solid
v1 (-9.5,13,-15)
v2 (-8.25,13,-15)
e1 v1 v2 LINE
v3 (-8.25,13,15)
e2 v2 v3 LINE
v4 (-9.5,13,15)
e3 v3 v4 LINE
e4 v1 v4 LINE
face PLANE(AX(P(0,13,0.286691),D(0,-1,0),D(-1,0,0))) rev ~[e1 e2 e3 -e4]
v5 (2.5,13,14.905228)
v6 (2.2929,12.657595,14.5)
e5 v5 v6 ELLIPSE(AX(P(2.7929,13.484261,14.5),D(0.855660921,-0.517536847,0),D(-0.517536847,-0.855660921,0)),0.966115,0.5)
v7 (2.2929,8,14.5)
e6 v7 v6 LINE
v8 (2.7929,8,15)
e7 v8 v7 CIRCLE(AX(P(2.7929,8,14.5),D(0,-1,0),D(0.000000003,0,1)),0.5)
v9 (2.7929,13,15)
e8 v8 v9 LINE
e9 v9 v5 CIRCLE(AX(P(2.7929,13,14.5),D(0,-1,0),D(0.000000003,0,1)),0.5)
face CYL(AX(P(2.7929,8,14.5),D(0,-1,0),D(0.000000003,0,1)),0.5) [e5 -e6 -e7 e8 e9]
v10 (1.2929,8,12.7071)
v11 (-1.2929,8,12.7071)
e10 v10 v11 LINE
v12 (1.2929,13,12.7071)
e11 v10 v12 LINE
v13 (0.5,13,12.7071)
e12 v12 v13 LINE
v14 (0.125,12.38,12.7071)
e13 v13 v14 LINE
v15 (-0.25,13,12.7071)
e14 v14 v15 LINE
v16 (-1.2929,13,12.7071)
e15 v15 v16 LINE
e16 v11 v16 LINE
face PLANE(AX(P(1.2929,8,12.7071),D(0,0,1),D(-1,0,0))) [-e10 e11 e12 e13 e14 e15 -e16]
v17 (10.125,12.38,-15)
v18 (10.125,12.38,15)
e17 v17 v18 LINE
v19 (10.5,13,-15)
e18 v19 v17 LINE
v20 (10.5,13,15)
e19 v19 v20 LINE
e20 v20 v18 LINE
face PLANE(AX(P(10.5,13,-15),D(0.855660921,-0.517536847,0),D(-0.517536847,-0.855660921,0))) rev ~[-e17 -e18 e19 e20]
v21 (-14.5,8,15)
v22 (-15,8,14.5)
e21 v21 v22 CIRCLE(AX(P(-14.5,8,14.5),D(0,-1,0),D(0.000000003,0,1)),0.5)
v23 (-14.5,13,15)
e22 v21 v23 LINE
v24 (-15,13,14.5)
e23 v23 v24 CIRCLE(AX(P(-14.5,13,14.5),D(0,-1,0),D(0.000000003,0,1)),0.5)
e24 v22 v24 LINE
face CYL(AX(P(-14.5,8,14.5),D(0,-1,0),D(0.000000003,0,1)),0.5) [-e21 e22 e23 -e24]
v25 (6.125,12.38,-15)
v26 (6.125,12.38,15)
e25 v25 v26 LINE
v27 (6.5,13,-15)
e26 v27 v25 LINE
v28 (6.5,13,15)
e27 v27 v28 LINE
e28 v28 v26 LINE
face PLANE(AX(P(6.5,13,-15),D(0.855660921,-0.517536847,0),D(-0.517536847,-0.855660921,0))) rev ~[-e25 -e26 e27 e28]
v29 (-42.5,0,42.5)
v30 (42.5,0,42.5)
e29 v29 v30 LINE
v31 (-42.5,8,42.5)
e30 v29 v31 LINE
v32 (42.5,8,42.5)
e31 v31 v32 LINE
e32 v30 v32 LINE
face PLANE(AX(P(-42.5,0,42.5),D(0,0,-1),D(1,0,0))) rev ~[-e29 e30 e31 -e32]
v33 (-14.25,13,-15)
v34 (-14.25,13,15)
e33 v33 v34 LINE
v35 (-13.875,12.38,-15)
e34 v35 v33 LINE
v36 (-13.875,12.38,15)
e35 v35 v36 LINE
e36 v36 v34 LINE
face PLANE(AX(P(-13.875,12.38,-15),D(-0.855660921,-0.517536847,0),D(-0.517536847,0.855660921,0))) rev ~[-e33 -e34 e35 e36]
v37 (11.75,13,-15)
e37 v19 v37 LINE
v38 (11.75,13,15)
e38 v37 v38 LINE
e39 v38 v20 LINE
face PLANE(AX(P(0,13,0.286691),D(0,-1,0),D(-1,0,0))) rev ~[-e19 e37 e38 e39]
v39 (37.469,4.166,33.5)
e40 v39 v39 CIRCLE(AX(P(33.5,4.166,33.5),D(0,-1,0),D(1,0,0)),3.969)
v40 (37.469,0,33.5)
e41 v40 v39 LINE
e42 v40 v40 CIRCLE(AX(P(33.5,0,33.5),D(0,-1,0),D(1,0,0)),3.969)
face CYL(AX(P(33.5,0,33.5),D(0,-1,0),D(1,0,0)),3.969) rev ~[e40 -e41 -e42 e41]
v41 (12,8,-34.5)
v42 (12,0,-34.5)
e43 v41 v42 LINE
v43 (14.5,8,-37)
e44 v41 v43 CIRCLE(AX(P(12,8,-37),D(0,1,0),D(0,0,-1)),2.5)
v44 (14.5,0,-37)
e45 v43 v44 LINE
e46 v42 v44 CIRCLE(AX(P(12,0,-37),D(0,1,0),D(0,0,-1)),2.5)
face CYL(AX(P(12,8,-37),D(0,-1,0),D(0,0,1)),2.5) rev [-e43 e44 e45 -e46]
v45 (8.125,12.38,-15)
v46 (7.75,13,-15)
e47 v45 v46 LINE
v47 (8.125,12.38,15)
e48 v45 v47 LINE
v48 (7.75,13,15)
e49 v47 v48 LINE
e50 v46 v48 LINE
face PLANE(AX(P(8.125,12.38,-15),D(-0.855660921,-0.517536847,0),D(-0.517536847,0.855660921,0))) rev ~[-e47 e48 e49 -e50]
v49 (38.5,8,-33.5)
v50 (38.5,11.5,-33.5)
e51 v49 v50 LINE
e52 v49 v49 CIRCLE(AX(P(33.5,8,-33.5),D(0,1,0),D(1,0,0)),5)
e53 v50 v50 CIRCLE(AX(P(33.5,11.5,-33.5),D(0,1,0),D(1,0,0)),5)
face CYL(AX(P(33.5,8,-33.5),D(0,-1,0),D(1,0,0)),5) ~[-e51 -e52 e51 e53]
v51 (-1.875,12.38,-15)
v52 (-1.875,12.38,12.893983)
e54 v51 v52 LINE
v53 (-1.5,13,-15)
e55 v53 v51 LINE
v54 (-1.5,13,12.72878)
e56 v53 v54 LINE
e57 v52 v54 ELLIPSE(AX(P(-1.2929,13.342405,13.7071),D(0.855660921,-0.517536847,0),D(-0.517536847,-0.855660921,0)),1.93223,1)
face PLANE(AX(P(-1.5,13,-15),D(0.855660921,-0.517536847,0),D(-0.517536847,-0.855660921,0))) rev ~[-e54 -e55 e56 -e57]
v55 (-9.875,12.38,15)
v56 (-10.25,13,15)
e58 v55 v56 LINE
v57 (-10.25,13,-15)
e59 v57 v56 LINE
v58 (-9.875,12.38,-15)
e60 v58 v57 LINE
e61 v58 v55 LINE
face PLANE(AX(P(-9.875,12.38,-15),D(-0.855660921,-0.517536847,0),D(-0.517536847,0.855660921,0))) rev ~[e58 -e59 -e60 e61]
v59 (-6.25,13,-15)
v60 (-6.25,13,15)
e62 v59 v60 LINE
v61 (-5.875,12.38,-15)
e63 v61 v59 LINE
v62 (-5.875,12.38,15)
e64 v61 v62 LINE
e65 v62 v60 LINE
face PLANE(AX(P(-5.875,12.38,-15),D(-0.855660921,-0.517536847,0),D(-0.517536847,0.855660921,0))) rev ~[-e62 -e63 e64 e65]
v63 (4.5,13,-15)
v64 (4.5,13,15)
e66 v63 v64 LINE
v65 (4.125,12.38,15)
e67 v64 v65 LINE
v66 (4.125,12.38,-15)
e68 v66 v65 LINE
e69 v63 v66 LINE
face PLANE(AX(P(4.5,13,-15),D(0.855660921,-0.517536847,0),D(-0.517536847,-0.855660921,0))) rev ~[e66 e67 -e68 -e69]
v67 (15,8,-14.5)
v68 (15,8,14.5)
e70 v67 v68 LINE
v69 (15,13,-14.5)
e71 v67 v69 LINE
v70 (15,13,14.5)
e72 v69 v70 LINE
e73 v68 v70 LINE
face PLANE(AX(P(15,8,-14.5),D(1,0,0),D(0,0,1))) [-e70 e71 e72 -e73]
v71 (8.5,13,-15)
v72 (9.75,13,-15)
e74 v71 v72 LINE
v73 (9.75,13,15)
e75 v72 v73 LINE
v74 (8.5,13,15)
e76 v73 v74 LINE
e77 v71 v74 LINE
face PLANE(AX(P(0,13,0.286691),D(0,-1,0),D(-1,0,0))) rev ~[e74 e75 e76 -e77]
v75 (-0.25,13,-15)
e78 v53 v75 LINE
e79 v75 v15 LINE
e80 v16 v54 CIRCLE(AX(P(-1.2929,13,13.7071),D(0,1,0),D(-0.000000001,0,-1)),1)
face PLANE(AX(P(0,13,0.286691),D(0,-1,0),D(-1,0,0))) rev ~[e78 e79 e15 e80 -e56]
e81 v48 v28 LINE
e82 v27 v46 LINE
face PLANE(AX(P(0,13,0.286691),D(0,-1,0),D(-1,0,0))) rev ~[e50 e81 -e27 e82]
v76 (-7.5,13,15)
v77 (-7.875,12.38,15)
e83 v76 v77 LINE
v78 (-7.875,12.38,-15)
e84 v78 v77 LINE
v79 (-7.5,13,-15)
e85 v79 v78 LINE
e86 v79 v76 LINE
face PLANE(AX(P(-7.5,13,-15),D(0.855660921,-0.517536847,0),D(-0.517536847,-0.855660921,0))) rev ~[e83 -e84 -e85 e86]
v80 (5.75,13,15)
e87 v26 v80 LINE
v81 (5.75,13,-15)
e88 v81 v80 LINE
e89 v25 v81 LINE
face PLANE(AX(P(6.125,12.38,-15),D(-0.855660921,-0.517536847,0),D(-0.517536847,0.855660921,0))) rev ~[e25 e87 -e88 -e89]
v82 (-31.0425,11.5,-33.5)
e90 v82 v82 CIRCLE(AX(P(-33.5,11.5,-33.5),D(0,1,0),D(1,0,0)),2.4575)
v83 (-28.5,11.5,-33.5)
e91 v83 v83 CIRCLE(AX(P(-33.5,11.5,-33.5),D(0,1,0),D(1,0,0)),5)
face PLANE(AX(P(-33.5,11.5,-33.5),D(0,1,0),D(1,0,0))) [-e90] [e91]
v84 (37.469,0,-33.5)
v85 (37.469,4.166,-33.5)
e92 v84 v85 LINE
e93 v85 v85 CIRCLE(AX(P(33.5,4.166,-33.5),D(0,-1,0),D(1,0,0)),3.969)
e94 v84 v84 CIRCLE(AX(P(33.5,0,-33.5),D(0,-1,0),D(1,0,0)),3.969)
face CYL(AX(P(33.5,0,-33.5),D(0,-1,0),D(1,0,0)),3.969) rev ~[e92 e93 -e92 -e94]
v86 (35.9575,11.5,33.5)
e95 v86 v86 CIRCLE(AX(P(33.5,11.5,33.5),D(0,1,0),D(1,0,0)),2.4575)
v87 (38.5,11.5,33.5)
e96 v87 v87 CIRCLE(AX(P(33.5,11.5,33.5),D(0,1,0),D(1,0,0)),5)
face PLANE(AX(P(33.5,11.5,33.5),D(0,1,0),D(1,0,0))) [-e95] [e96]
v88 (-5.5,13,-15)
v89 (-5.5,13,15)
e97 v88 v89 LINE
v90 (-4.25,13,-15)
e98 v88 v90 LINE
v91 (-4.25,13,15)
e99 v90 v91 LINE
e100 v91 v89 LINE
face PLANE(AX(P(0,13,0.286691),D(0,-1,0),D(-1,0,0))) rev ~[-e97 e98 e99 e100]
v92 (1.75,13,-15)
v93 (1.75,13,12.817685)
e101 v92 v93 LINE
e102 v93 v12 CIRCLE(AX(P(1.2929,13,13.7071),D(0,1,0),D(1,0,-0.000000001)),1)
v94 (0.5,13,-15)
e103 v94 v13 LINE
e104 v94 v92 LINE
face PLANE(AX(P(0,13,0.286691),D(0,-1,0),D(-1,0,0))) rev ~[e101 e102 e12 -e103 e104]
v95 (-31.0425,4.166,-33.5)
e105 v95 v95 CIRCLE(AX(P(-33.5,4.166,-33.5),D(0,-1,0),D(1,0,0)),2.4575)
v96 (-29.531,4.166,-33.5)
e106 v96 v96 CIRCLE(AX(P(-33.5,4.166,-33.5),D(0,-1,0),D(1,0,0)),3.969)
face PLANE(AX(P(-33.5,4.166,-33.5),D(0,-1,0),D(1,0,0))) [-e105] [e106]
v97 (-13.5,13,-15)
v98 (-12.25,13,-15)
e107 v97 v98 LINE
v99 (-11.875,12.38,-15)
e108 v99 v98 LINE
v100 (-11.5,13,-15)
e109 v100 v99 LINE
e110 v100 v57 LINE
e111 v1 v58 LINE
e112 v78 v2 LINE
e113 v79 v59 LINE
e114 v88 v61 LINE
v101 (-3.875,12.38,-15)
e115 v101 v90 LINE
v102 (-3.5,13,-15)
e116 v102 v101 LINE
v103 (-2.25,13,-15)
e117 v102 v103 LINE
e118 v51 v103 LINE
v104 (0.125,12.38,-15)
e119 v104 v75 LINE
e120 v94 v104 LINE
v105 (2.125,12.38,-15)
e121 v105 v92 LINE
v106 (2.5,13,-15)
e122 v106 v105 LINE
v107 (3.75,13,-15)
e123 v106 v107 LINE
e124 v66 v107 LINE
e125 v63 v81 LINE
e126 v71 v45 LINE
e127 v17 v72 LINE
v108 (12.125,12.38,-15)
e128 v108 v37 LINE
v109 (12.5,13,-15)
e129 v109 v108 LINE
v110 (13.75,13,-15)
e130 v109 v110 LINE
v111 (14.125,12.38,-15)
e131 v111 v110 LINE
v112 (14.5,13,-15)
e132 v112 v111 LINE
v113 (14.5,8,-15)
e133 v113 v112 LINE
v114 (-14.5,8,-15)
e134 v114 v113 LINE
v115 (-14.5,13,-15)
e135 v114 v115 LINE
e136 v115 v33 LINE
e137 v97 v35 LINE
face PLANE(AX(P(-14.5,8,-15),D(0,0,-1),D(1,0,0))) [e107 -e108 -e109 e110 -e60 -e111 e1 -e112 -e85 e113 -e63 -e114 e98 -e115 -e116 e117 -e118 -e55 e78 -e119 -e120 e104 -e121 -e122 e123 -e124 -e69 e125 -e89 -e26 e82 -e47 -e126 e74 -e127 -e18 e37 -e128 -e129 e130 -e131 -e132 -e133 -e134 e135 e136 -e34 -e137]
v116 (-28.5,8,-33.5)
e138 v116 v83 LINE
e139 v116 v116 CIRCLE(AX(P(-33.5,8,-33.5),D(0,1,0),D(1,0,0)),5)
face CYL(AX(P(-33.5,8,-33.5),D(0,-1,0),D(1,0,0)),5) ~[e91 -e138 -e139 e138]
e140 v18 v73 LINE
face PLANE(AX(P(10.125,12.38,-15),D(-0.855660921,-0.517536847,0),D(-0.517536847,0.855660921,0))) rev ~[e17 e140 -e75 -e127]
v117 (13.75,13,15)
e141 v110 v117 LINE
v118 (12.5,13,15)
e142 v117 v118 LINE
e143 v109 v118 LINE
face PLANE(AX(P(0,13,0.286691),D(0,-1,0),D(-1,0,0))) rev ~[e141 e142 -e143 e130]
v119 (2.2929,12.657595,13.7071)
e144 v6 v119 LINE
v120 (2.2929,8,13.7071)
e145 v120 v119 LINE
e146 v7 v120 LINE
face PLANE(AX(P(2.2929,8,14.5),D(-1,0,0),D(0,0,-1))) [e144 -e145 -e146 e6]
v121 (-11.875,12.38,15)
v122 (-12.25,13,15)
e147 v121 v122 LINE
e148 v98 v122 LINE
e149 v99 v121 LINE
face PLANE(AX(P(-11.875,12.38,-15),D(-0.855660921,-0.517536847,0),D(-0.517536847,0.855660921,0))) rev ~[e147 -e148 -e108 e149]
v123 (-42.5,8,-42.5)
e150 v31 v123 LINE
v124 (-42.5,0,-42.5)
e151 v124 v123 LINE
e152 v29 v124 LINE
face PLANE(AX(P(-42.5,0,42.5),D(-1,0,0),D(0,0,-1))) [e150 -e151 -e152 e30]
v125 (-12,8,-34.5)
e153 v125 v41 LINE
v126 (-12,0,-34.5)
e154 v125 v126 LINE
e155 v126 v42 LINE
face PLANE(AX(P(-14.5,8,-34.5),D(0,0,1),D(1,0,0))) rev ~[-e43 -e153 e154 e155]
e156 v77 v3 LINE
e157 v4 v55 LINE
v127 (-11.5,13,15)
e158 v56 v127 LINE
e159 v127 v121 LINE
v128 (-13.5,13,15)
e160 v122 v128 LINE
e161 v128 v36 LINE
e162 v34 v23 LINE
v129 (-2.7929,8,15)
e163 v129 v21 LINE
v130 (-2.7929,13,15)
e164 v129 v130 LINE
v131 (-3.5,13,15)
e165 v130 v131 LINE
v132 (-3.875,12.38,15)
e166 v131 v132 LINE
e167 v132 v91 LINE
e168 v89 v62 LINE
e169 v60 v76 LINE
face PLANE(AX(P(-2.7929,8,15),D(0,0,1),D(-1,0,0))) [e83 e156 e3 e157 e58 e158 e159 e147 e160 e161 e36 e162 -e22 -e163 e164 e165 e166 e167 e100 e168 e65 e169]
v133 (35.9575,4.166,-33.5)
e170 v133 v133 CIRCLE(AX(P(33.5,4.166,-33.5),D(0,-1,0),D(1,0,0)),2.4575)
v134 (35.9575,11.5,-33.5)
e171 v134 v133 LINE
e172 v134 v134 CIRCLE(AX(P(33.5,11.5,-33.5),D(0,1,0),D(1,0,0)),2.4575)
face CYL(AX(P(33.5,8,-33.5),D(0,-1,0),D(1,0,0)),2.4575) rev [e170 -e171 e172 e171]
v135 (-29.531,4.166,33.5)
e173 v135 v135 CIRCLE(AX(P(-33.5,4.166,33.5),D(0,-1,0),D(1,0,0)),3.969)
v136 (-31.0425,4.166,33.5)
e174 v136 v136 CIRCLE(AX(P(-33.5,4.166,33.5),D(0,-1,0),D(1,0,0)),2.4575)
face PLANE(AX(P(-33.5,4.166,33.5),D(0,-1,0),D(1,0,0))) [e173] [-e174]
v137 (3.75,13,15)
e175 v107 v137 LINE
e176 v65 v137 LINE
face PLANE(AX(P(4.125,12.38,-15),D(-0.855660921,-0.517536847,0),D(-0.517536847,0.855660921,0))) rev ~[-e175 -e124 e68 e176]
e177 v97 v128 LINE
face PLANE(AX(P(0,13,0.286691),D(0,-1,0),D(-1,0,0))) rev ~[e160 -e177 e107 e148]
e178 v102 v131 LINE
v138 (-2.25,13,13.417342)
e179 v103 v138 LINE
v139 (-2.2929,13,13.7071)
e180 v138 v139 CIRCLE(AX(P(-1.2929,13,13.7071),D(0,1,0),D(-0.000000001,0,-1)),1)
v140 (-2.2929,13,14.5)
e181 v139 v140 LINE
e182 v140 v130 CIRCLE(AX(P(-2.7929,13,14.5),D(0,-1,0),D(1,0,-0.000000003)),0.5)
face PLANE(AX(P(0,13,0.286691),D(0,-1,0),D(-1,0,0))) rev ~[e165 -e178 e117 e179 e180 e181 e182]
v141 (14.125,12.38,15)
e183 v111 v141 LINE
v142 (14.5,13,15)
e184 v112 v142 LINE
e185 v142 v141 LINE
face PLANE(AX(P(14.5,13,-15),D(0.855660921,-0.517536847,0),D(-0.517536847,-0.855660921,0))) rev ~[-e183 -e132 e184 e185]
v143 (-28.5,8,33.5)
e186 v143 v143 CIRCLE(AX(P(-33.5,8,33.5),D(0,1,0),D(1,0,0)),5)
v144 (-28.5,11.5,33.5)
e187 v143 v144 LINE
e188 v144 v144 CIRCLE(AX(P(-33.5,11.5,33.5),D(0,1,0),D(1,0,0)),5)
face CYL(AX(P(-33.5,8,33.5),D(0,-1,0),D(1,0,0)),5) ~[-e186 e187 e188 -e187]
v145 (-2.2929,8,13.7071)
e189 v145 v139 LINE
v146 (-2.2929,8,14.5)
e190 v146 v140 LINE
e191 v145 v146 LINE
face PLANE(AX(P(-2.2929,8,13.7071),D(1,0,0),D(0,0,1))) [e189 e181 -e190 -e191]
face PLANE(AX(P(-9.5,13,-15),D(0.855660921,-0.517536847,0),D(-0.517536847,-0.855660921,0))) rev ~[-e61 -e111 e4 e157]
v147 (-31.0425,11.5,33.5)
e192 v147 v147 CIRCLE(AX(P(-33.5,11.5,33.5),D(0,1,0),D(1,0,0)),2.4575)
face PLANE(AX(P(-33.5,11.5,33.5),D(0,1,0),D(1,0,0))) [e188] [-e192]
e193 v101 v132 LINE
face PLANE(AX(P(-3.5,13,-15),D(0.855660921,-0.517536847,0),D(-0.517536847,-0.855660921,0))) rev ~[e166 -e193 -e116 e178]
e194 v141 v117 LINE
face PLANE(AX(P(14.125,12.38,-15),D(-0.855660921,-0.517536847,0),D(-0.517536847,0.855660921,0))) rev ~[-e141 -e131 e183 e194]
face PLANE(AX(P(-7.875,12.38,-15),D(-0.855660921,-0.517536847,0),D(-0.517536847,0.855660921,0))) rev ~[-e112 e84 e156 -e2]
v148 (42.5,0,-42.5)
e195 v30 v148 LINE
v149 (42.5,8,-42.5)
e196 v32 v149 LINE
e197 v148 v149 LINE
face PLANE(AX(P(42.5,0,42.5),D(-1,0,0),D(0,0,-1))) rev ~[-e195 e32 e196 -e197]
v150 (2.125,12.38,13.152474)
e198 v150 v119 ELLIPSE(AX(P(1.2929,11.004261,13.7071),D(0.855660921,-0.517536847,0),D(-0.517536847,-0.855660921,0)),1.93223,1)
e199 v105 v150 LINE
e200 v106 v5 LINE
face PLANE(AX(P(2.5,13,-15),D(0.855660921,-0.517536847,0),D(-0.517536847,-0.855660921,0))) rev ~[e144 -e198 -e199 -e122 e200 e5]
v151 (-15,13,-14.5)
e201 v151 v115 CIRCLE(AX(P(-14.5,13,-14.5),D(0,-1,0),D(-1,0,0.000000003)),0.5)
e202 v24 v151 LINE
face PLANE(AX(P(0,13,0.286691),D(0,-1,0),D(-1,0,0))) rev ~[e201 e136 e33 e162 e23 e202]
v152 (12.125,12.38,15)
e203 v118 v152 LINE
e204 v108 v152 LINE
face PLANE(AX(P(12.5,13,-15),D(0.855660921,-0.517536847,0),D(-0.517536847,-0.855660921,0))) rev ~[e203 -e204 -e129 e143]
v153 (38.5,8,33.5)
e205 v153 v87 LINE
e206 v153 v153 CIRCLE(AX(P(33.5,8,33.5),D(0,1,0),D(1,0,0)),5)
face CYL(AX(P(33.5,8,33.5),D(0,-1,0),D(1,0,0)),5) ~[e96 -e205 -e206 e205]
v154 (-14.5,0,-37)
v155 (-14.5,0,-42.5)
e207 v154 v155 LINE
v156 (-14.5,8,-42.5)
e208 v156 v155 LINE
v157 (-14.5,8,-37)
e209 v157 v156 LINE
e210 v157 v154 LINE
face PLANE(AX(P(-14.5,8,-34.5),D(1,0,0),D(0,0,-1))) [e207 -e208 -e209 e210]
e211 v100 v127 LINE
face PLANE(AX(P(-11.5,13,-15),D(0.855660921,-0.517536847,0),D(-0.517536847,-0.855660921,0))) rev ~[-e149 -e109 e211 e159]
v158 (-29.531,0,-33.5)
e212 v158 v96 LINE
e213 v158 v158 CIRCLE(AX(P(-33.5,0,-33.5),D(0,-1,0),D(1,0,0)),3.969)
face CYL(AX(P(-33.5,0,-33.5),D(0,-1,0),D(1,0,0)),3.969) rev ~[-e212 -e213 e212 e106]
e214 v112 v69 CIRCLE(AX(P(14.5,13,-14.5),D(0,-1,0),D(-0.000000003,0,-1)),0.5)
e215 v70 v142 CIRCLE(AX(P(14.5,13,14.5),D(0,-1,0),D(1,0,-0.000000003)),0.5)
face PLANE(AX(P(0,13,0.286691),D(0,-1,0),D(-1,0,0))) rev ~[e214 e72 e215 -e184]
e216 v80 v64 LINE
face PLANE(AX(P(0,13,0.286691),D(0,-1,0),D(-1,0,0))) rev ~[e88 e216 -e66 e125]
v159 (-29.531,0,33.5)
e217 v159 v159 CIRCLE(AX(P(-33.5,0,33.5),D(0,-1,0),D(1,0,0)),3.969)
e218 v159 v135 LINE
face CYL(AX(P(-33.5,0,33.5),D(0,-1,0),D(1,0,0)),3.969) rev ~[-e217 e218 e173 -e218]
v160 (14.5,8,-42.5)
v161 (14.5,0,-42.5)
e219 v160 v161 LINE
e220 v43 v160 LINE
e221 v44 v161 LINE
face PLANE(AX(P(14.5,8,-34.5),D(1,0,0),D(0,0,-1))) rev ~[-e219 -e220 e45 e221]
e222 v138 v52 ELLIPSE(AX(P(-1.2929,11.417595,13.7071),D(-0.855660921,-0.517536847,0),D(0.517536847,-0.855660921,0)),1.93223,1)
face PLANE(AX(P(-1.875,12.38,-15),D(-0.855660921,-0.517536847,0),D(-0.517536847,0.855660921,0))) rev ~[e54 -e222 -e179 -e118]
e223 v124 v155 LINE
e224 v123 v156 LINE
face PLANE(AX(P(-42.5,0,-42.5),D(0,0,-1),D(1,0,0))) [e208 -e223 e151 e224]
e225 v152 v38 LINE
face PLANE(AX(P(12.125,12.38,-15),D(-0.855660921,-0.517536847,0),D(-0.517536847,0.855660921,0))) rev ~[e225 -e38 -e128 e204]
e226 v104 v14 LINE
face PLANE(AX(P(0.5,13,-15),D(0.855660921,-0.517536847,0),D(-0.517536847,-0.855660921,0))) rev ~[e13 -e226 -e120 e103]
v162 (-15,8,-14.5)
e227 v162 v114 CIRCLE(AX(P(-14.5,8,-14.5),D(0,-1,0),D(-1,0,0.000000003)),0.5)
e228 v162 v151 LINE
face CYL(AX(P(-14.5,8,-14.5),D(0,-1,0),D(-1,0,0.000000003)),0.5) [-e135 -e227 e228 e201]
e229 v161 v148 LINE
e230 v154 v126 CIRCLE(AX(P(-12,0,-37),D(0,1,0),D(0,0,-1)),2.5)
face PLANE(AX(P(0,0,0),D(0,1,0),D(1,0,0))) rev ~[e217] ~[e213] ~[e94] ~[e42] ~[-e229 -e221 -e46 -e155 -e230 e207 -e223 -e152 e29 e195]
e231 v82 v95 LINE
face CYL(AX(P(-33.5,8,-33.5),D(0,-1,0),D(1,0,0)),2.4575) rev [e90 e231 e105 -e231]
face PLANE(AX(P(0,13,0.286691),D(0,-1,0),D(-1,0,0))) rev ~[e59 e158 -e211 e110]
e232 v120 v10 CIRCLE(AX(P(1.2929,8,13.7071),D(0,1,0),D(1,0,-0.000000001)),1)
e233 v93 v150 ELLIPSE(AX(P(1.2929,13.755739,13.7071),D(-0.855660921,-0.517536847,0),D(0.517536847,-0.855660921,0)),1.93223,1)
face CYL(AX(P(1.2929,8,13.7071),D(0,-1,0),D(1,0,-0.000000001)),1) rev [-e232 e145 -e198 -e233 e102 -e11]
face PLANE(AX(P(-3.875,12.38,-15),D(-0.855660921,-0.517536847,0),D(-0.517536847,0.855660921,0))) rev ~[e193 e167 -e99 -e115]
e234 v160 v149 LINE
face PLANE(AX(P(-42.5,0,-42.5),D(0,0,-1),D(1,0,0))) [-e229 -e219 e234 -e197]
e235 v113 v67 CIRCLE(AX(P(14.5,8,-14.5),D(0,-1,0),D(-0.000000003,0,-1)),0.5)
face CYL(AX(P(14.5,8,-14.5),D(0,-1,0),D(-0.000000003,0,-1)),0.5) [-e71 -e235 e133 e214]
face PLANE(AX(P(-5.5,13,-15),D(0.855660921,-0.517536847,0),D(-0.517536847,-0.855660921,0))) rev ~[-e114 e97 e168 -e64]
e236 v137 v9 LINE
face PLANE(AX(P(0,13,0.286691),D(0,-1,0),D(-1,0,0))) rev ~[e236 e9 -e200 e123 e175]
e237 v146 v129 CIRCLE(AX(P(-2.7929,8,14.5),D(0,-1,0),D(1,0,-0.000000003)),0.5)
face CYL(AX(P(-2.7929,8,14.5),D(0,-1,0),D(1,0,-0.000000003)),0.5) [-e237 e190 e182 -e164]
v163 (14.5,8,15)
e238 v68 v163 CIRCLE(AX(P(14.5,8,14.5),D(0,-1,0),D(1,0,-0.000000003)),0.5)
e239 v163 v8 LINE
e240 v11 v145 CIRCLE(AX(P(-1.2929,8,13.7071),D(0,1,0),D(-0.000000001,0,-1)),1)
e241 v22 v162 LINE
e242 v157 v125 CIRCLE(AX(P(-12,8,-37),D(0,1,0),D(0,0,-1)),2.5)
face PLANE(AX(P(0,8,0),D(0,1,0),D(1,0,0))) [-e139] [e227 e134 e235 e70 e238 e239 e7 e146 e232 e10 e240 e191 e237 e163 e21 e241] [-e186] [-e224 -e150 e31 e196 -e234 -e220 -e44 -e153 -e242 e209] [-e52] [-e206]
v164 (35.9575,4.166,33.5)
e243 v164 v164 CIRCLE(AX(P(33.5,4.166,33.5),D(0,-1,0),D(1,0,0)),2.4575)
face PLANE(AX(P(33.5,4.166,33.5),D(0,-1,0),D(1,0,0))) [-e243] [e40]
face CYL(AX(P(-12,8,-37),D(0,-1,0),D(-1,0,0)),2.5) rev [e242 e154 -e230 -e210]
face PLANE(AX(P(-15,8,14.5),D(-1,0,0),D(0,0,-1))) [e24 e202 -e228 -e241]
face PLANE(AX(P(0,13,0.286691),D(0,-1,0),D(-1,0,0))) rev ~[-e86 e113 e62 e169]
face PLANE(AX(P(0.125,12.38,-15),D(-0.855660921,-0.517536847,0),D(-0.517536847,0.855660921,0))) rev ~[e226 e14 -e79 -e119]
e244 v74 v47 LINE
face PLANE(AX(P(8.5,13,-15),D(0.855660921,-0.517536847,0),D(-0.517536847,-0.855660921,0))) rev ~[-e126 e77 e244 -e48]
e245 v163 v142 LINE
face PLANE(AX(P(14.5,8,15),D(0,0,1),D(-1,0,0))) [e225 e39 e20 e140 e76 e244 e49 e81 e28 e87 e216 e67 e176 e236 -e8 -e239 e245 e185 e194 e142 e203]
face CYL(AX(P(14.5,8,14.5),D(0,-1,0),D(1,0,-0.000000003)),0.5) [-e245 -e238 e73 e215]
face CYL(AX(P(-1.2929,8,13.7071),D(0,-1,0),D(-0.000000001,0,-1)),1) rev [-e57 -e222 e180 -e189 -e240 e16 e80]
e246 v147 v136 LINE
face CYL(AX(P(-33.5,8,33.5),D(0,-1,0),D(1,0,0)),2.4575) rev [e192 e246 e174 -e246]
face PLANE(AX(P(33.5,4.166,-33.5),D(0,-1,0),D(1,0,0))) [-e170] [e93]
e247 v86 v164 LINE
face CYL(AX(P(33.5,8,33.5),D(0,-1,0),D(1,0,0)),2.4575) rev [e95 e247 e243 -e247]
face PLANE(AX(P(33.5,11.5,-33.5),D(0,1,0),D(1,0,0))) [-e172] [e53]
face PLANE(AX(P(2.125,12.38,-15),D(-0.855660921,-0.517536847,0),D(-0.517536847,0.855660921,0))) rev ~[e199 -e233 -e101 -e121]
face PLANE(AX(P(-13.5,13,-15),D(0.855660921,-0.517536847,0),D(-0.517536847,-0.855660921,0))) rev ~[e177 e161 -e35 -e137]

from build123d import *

# Parameters (mm, degrees)
SKETCH1_W           = 85
SKETCH1_H           = 85
SKETCH1_R           = 2.4575
BOSS_EXTRUDE1_DEPTH = 8
SKETCH2_R           = 3.969
CUT_EXTRUDE1_DEPTH  = 4.166
SKETCH3_R           = 5
SKETCH3_R_2         = 2.4575
BOSS_EXTRUDE2_DEPTH = 3.5
BOSS_EXTRUDE3_DEPTH = 5
SKETCH5_W           = 29
SKETCH5_H           = 8
CUT_EXTRUDE2_DEPTH  = 10
FILLET1_R           = 2.5
CUT_EXTRUDE3_REACH  = 59.5


with BuildPart() as part:
    # Sketch1 → Boss-Extrude1 (new body)
    with BuildSketch(Plane(origin=(0, 0, 0), x_dir=(1, 0, 0), z_dir=(0, 1, 0))):
        Rectangle(SKETCH1_W, SKETCH1_H)
        with Locations((-33.5, 33.5)):
            Circle(SKETCH1_R, mode=Mode.SUBTRACT)
        with Locations((-33.5, -33.5)):
            Circle(SKETCH1_R, mode=Mode.SUBTRACT)
        with Locations((33.5, -33.5)):
            Circle(SKETCH1_R, mode=Mode.SUBTRACT)
        with Locations((33.5, 33.5)):
            Circle(SKETCH1_R, mode=Mode.SUBTRACT)
    extrude(amount=BOSS_EXTRUDE1_DEPTH)

    # Sketch2 → Cut-Extrude1 (cut)
    with BuildSketch(Plane.XZ):
        with Locations((-33.5, 33.5)):
            Circle(SKETCH2_R)
        with Locations((33.5, 33.5)):
            Circle(SKETCH2_R)
        with Locations((33.5, -33.5)):
            Circle(SKETCH2_R)
        with Locations((-33.5, -33.5)):
            Circle(SKETCH2_R)
    extrude(amount=-CUT_EXTRUDE1_DEPTH, mode=Mode.SUBTRACT)

    # Sketch3 → Boss-Extrude2 (add)
    with BuildSketch(Plane(origin=(0, 8, 0), x_dir=(1, 0, 0), z_dir=(0, 1, 0))):
        with Locations((33.5, -33.5)):
            Circle(SKETCH3_R)
        with Locations((33.5, -33.5)):
            Circle(SKETCH3_R_2, mode=Mode.SUBTRACT)
        with Locations((-33.5, -33.5)):
            Circle(SKETCH3_R)
        with Locations((-33.5, -33.5)):
            Circle(SKETCH3_R_2, mode=Mode.SUBTRACT)
        with Locations((-33.5, 33.5)):
            Circle(SKETCH3_R)
        with Locations((-33.5, 33.5)):
            Circle(SKETCH3_R_2, mode=Mode.SUBTRACT)
        with Locations((33.5, 33.5)):
            Circle(SKETCH3_R)
        with Locations((33.5, 33.5)):
            Circle(SKETCH3_R_2, mode=Mode.SUBTRACT)
    extrude(amount=BOSS_EXTRUDE2_DEPTH)

    # Sketch4 → Boss-Extrude3 (add)
    with BuildSketch(Plane(origin=(0, 8, 0), x_dir=(1, 0, 0), z_dir=(0, 1, 0))):
        with BuildLine():
            Line((2.2929, -14.5), (2.2929, -13.7071))
            ThreePointArc((2.2929, -13.7071), (2.000006781, -12.999993219), (1.2929, -12.7071))
            Line((1.2929, -12.7071), (-1.2929, -12.7071))
            ThreePointArc((-1.2929, -12.7071), (-2.000006781, -12.999993219), (-2.2929, -13.7071))
            Line((-2.2929, -13.7071), (-2.2929, -14.5))
            ThreePointArc((-2.2929, -14.5), (-2.439346609, -14.853553391), (-2.7929, -15))
            Line((-2.7929, -15), (-14.5, -15))
            ThreePointArc((-14.5, -15), (-14.853553391, -14.853553391), (-15, -14.5))
            Line((-15, -14.5), (-15, 14.5))
            ThreePointArc((-15, 14.5), (-14.853553391, 14.853553391), (-14.5, 15))
            Line((-14.5, 15), (14.5, 15))
            ThreePointArc((14.5, 15), (14.853553391, 14.853553391), (15, 14.5))
            Line((15, 14.5), (15, -14.5))
            ThreePointArc((15, -14.5), (14.853553391, -14.853553391), (14.5, -15))
            Line((14.5, -15), (2.7929, -15))
            ThreePointArc((2.7929, -15), (2.439346609, -14.853553391), (2.2929, -14.5))
        make_face()
    extrude(amount=BOSS_EXTRUDE3_DEPTH)

    # Sketch5 → Cut-Extrude2 (cut)
    with BuildSketch(Plane(origin=(0, 8, 0), x_dir=(1, 0, 0), z_dir=(0, 1, 0))):
        with Locations((0, 38.5)):
            Rectangle(SKETCH5_W, SKETCH5_H)
    extrude(amount=-CUT_EXTRUDE2_DEPTH, mode=Mode.SUBTRACT)

    # Fillet1
    fillet1_edges = [part.edges().sort_by_distance(p)[0] for p in [
        (14.5, 4, -34.5),
        (-14.5, 4, -34.5),
    ]]
    fillet(fillet1_edges, radius=FILLET1_R)

    # Sketch7 → Cut-Extrude3 (cut, up to next)
    with BuildSketch(Plane(origin=(0, 0, -15), x_dir=(-1, 0, 0), z_dir=(0, 0, -1)), mode=Mode.PRIVATE) as cut_extrude3_sk1:
        Polygon((-14.5, 13), (-14.125, 12.38), (-13.75, 13), align=None)
    cut_extrude3_tool1 = extrude(cut_extrude3_sk1.sketch, amount=-CUT_EXTRUDE3_REACH, mode=Mode.PRIVATE) & part.part
    add(cut_extrude3_tool1.solids().sort_by_distance((14.125, 12.793333, -15))[0], mode=Mode.SUBTRACT)
    # Sketch7 → Cut-Extrude3 (cut, up to next)
    with BuildSketch(Plane(origin=(0, 0, -15), x_dir=(-1, 0, 0), z_dir=(0, 0, -1)), mode=Mode.PRIVATE) as cut_extrude3_sk2:
        Polygon((-12.5, 13), (-12.125, 12.38), (-11.75, 13), align=None)
    cut_extrude3_tool2 = extrude(cut_extrude3_sk2.sketch, amount=-CUT_EXTRUDE3_REACH, mode=Mode.PRIVATE) & part.part
    add(cut_extrude3_tool2.solids().sort_by_distance((12.125, 12.793333, -15))[0], mode=Mode.SUBTRACT)
    # Sketch7 → Cut-Extrude3 (cut, up to next)
    with BuildSketch(Plane(origin=(0, 0, -15), x_dir=(-1, 0, 0), z_dir=(0, 0, -1)), mode=Mode.PRIVATE) as cut_extrude3_sk3:
        Polygon((-10.5, 13), (-10.125, 12.38), (-9.75, 13), align=None)
    cut_extrude3_tool3 = extrude(cut_extrude3_sk3.sketch, amount=-CUT_EXTRUDE3_REACH, mode=Mode.PRIVATE) & part.part
    add(cut_extrude3_tool3.solids().sort_by_distance((10.125, 12.793333, -15))[0], mode=Mode.SUBTRACT)
    # Sketch7 → Cut-Extrude3 (cut, up to next)
    with BuildSketch(Plane(origin=(0, 0, -15), x_dir=(-1, 0, 0), z_dir=(0, 0, -1)), mode=Mode.PRIVATE) as cut_extrude3_sk4:
        Polygon((-8.5, 13), (-8.125, 12.38), (-7.75, 13), align=None)
    cut_extrude3_tool4 = extrude(cut_extrude3_sk4.sketch, amount=-CUT_EXTRUDE3_REACH, mode=Mode.PRIVATE) & part.part
    add(cut_extrude3_tool4.solids().sort_by_distance((8.125, 12.793333, -15))[0], mode=Mode.SUBTRACT)
    # Sketch7 → Cut-Extrude3 (cut, up to next)
    with BuildSketch(Plane(origin=(0, 0, -15), x_dir=(-1, 0, 0), z_dir=(0, 0, -1)), mode=Mode.PRIVATE) as cut_extrude3_sk5:
        Polygon((-6.5, 13), (-6.125, 12.38), (-5.75, 13), align=None)
    cut_extrude3_tool5 = extrude(cut_extrude3_sk5.sketch, amount=-CUT_EXTRUDE3_REACH, mode=Mode.PRIVATE) & part.part
    add(cut_extrude3_tool5.solids().sort_by_distance((6.125, 12.793333, -15))[0], mode=Mode.SUBTRACT)
    # Sketch7 → Cut-Extrude3 (cut, up to next)
    with BuildSketch(Plane(origin=(0, 0, -15), x_dir=(-1, 0, 0), z_dir=(0, 0, -1)), mode=Mode.PRIVATE) as cut_extrude3_sk6:
        Polygon((-4.5, 13), (-4.125, 12.38), (-3.75, 13), align=None)
    cut_extrude3_tool6 = extrude(cut_extrude3_sk6.sketch, amount=-CUT_EXTRUDE3_REACH, mode=Mode.PRIVATE) & part.part
    add(cut_extrude3_tool6.solids().sort_by_distance((4.125, 12.793333, -15))[0], mode=Mode.SUBTRACT)
    # Sketch7 → Cut-Extrude3 (cut, up to next)
    with BuildSketch(Plane(origin=(0, 0, -15), x_dir=(-1, 0, 0), z_dir=(0, 0, -1)), mode=Mode.PRIVATE) as cut_extrude3_sk7:
        Polygon((-2.5, 13), (-2.125, 12.38), (-1.75, 13), align=None)
    cut_extrude3_tool7 = extrude(cut_extrude3_sk7.sketch, amount=-CUT_EXTRUDE3_REACH, mode=Mode.PRIVATE) & part.part
    add(cut_extrude3_tool7.solids().sort_by_distance((2.125, 12.793333, -15))[0], mode=Mode.SUBTRACT)
    # Sketch7 → Cut-Extrude3 (cut, up to next)
    with BuildSketch(Plane(origin=(0, 0, -15), x_dir=(-1, 0, 0), z_dir=(0, 0, -1)), mode=Mode.PRIVATE) as cut_extrude3_sk8:
        Polygon((-0.5, 13), (-0.125, 12.38), (0.25, 13), align=None)
    cut_extrude3_tool8 = extrude(cut_extrude3_sk8.sketch, amount=-CUT_EXTRUDE3_REACH, mode=Mode.PRIVATE) & part.part
    add(cut_extrude3_tool8.solids().sort_by_distance((0.125, 12.793333, -15))[0], mode=Mode.SUBTRACT)
    # Sketch7 → Cut-Extrude3 (cut, up to next)
    with BuildSketch(Plane(origin=(0, 0, -15), x_dir=(-1, 0, 0), z_dir=(0, 0, -1)), mode=Mode.PRIVATE) as cut_extrude3_sk9:
        Polygon((1.5, 13), (1.875, 12.38), (2.25, 13), align=None)
    cut_extrude3_tool9 = extrude(cut_extrude3_sk9.sketch, amount=-CUT_EXTRUDE3_REACH, mode=Mode.PRIVATE) & part.part
    add(cut_extrude3_tool9.solids().sort_by_distance((-1.875, 12.793333, -15))[0], mode=Mode.SUBTRACT)
    # Sketch7 → Cut-Extrude3 (cut, up to next)
    with BuildSketch(Plane(origin=(0, 0, -15), x_dir=(-1, 0, 0), z_dir=(0, 0, -1)), mode=Mode.PRIVATE) as cut_extrude3_sk10:
        Polygon((3.5, 13), (3.875, 12.38), (4.25, 13), align=None)
    cut_extrude3_tool10 = extrude(cut_extrude3_sk10.sketch, amount=-CUT_EXTRUDE3_REACH, mode=Mode.PRIVATE) & part.part
    add(cut_extrude3_tool10.solids().sort_by_distance((-3.875, 12.793333, -15))[0], mode=Mode.SUBTRACT)
    # Sketch7 → Cut-Extrude3 (cut, up to next)
    with BuildSketch(Plane(origin=(0, 0, -15), x_dir=(-1, 0, 0), z_dir=(0, 0, -1)), mode=Mode.PRIVATE) as cut_extrude3_sk11:
        Polygon((5.5, 13), (5.875, 12.38), (6.25, 13), align=None)
    cut_extrude3_tool11 = extrude(cut_extrude3_sk11.sketch, amount=-CUT_EXTRUDE3_REACH, mode=Mode.PRIVATE) & part.part
    add(cut_extrude3_tool11.solids().sort_by_distance((-5.875, 12.793333, -15))[0], mode=Mode.SUBTRACT)
    # Sketch7 → Cut-Extrude3 (cut, up to next)
    with BuildSketch(Plane(origin=(0, 0, -15), x_dir=(-1, 0, 0), z_dir=(0, 0, -1)), mode=Mode.PRIVATE) as cut_extrude3_sk12:
        Polygon((7.5, 13), (7.875, 12.38), (8.25, 13), align=None)
    cut_extrude3_tool12 = extrude(cut_extrude3_sk12.sketch, amount=-CUT_EXTRUDE3_REACH, mode=Mode.PRIVATE) & part.part
    add(cut_extrude3_tool12.solids().sort_by_distance((-7.875, 12.793333, -15))[0], mode=Mode.SUBTRACT)
    # Sketch7 → Cut-Extrude3 (cut, up to next)
    with BuildSketch(Plane(origin=(0, 0, -15), x_dir=(-1, 0, 0), z_dir=(0, 0, -1)), mode=Mode.PRIVATE) as cut_extrude3_sk13:
        Polygon((9.5, 13), (9.875, 12.38), (10.25, 13), align=None)
    cut_extrude3_tool13 = extrude(cut_extrude3_sk13.sketch, amount=-CUT_EXTRUDE3_REACH, mode=Mode.PRIVATE) & part.part
    add(cut_extrude3_tool13.solids().sort_by_distance((-9.875, 12.793333, -15))[0], mode=Mode.SUBTRACT)
    # Sketch7 → Cut-Extrude3 (cut, up to next)
    with BuildSketch(Plane(origin=(0, 0, -15), x_dir=(-1, 0, 0), z_dir=(0, 0, -1)), mode=Mode.PRIVATE) as cut_extrude3_sk14:
        Polygon((11.5, 13), (11.875, 12.38), (12.25, 13), align=None)
    cut_extrude3_tool14 = extrude(cut_extrude3_sk14.sketch, amount=-CUT_EXTRUDE3_REACH, mode=Mode.PRIVATE) & part.part
    add(cut_extrude3_tool14.solids().sort_by_distance((-11.875, 12.793333, -15))[0], mode=Mode.SUBTRACT)
    # Sketch7 → Cut-Extrude3 (cut, up to next)
    with BuildSketch(Plane(origin=(0, 0, -15), x_dir=(-1, 0, 0), z_dir=(0, 0, -1)), mode=Mode.PRIVATE) as cut_extrude3_sk15:
        Polygon((13.5, 13), (13.875, 12.38), (14.25, 13), align=None)
    cut_extrude3_tool15 = extrude(cut_extrude3_sk15.sketch, amount=-CUT_EXTRUDE3_REACH, mode=Mode.PRIVATE) & part.part
    add(cut_extrude3_tool15.solids().sort_by_distance((-13.875, 12.793333, -15))[0], mode=Mode.SUBTRACT)


solid = part.part
